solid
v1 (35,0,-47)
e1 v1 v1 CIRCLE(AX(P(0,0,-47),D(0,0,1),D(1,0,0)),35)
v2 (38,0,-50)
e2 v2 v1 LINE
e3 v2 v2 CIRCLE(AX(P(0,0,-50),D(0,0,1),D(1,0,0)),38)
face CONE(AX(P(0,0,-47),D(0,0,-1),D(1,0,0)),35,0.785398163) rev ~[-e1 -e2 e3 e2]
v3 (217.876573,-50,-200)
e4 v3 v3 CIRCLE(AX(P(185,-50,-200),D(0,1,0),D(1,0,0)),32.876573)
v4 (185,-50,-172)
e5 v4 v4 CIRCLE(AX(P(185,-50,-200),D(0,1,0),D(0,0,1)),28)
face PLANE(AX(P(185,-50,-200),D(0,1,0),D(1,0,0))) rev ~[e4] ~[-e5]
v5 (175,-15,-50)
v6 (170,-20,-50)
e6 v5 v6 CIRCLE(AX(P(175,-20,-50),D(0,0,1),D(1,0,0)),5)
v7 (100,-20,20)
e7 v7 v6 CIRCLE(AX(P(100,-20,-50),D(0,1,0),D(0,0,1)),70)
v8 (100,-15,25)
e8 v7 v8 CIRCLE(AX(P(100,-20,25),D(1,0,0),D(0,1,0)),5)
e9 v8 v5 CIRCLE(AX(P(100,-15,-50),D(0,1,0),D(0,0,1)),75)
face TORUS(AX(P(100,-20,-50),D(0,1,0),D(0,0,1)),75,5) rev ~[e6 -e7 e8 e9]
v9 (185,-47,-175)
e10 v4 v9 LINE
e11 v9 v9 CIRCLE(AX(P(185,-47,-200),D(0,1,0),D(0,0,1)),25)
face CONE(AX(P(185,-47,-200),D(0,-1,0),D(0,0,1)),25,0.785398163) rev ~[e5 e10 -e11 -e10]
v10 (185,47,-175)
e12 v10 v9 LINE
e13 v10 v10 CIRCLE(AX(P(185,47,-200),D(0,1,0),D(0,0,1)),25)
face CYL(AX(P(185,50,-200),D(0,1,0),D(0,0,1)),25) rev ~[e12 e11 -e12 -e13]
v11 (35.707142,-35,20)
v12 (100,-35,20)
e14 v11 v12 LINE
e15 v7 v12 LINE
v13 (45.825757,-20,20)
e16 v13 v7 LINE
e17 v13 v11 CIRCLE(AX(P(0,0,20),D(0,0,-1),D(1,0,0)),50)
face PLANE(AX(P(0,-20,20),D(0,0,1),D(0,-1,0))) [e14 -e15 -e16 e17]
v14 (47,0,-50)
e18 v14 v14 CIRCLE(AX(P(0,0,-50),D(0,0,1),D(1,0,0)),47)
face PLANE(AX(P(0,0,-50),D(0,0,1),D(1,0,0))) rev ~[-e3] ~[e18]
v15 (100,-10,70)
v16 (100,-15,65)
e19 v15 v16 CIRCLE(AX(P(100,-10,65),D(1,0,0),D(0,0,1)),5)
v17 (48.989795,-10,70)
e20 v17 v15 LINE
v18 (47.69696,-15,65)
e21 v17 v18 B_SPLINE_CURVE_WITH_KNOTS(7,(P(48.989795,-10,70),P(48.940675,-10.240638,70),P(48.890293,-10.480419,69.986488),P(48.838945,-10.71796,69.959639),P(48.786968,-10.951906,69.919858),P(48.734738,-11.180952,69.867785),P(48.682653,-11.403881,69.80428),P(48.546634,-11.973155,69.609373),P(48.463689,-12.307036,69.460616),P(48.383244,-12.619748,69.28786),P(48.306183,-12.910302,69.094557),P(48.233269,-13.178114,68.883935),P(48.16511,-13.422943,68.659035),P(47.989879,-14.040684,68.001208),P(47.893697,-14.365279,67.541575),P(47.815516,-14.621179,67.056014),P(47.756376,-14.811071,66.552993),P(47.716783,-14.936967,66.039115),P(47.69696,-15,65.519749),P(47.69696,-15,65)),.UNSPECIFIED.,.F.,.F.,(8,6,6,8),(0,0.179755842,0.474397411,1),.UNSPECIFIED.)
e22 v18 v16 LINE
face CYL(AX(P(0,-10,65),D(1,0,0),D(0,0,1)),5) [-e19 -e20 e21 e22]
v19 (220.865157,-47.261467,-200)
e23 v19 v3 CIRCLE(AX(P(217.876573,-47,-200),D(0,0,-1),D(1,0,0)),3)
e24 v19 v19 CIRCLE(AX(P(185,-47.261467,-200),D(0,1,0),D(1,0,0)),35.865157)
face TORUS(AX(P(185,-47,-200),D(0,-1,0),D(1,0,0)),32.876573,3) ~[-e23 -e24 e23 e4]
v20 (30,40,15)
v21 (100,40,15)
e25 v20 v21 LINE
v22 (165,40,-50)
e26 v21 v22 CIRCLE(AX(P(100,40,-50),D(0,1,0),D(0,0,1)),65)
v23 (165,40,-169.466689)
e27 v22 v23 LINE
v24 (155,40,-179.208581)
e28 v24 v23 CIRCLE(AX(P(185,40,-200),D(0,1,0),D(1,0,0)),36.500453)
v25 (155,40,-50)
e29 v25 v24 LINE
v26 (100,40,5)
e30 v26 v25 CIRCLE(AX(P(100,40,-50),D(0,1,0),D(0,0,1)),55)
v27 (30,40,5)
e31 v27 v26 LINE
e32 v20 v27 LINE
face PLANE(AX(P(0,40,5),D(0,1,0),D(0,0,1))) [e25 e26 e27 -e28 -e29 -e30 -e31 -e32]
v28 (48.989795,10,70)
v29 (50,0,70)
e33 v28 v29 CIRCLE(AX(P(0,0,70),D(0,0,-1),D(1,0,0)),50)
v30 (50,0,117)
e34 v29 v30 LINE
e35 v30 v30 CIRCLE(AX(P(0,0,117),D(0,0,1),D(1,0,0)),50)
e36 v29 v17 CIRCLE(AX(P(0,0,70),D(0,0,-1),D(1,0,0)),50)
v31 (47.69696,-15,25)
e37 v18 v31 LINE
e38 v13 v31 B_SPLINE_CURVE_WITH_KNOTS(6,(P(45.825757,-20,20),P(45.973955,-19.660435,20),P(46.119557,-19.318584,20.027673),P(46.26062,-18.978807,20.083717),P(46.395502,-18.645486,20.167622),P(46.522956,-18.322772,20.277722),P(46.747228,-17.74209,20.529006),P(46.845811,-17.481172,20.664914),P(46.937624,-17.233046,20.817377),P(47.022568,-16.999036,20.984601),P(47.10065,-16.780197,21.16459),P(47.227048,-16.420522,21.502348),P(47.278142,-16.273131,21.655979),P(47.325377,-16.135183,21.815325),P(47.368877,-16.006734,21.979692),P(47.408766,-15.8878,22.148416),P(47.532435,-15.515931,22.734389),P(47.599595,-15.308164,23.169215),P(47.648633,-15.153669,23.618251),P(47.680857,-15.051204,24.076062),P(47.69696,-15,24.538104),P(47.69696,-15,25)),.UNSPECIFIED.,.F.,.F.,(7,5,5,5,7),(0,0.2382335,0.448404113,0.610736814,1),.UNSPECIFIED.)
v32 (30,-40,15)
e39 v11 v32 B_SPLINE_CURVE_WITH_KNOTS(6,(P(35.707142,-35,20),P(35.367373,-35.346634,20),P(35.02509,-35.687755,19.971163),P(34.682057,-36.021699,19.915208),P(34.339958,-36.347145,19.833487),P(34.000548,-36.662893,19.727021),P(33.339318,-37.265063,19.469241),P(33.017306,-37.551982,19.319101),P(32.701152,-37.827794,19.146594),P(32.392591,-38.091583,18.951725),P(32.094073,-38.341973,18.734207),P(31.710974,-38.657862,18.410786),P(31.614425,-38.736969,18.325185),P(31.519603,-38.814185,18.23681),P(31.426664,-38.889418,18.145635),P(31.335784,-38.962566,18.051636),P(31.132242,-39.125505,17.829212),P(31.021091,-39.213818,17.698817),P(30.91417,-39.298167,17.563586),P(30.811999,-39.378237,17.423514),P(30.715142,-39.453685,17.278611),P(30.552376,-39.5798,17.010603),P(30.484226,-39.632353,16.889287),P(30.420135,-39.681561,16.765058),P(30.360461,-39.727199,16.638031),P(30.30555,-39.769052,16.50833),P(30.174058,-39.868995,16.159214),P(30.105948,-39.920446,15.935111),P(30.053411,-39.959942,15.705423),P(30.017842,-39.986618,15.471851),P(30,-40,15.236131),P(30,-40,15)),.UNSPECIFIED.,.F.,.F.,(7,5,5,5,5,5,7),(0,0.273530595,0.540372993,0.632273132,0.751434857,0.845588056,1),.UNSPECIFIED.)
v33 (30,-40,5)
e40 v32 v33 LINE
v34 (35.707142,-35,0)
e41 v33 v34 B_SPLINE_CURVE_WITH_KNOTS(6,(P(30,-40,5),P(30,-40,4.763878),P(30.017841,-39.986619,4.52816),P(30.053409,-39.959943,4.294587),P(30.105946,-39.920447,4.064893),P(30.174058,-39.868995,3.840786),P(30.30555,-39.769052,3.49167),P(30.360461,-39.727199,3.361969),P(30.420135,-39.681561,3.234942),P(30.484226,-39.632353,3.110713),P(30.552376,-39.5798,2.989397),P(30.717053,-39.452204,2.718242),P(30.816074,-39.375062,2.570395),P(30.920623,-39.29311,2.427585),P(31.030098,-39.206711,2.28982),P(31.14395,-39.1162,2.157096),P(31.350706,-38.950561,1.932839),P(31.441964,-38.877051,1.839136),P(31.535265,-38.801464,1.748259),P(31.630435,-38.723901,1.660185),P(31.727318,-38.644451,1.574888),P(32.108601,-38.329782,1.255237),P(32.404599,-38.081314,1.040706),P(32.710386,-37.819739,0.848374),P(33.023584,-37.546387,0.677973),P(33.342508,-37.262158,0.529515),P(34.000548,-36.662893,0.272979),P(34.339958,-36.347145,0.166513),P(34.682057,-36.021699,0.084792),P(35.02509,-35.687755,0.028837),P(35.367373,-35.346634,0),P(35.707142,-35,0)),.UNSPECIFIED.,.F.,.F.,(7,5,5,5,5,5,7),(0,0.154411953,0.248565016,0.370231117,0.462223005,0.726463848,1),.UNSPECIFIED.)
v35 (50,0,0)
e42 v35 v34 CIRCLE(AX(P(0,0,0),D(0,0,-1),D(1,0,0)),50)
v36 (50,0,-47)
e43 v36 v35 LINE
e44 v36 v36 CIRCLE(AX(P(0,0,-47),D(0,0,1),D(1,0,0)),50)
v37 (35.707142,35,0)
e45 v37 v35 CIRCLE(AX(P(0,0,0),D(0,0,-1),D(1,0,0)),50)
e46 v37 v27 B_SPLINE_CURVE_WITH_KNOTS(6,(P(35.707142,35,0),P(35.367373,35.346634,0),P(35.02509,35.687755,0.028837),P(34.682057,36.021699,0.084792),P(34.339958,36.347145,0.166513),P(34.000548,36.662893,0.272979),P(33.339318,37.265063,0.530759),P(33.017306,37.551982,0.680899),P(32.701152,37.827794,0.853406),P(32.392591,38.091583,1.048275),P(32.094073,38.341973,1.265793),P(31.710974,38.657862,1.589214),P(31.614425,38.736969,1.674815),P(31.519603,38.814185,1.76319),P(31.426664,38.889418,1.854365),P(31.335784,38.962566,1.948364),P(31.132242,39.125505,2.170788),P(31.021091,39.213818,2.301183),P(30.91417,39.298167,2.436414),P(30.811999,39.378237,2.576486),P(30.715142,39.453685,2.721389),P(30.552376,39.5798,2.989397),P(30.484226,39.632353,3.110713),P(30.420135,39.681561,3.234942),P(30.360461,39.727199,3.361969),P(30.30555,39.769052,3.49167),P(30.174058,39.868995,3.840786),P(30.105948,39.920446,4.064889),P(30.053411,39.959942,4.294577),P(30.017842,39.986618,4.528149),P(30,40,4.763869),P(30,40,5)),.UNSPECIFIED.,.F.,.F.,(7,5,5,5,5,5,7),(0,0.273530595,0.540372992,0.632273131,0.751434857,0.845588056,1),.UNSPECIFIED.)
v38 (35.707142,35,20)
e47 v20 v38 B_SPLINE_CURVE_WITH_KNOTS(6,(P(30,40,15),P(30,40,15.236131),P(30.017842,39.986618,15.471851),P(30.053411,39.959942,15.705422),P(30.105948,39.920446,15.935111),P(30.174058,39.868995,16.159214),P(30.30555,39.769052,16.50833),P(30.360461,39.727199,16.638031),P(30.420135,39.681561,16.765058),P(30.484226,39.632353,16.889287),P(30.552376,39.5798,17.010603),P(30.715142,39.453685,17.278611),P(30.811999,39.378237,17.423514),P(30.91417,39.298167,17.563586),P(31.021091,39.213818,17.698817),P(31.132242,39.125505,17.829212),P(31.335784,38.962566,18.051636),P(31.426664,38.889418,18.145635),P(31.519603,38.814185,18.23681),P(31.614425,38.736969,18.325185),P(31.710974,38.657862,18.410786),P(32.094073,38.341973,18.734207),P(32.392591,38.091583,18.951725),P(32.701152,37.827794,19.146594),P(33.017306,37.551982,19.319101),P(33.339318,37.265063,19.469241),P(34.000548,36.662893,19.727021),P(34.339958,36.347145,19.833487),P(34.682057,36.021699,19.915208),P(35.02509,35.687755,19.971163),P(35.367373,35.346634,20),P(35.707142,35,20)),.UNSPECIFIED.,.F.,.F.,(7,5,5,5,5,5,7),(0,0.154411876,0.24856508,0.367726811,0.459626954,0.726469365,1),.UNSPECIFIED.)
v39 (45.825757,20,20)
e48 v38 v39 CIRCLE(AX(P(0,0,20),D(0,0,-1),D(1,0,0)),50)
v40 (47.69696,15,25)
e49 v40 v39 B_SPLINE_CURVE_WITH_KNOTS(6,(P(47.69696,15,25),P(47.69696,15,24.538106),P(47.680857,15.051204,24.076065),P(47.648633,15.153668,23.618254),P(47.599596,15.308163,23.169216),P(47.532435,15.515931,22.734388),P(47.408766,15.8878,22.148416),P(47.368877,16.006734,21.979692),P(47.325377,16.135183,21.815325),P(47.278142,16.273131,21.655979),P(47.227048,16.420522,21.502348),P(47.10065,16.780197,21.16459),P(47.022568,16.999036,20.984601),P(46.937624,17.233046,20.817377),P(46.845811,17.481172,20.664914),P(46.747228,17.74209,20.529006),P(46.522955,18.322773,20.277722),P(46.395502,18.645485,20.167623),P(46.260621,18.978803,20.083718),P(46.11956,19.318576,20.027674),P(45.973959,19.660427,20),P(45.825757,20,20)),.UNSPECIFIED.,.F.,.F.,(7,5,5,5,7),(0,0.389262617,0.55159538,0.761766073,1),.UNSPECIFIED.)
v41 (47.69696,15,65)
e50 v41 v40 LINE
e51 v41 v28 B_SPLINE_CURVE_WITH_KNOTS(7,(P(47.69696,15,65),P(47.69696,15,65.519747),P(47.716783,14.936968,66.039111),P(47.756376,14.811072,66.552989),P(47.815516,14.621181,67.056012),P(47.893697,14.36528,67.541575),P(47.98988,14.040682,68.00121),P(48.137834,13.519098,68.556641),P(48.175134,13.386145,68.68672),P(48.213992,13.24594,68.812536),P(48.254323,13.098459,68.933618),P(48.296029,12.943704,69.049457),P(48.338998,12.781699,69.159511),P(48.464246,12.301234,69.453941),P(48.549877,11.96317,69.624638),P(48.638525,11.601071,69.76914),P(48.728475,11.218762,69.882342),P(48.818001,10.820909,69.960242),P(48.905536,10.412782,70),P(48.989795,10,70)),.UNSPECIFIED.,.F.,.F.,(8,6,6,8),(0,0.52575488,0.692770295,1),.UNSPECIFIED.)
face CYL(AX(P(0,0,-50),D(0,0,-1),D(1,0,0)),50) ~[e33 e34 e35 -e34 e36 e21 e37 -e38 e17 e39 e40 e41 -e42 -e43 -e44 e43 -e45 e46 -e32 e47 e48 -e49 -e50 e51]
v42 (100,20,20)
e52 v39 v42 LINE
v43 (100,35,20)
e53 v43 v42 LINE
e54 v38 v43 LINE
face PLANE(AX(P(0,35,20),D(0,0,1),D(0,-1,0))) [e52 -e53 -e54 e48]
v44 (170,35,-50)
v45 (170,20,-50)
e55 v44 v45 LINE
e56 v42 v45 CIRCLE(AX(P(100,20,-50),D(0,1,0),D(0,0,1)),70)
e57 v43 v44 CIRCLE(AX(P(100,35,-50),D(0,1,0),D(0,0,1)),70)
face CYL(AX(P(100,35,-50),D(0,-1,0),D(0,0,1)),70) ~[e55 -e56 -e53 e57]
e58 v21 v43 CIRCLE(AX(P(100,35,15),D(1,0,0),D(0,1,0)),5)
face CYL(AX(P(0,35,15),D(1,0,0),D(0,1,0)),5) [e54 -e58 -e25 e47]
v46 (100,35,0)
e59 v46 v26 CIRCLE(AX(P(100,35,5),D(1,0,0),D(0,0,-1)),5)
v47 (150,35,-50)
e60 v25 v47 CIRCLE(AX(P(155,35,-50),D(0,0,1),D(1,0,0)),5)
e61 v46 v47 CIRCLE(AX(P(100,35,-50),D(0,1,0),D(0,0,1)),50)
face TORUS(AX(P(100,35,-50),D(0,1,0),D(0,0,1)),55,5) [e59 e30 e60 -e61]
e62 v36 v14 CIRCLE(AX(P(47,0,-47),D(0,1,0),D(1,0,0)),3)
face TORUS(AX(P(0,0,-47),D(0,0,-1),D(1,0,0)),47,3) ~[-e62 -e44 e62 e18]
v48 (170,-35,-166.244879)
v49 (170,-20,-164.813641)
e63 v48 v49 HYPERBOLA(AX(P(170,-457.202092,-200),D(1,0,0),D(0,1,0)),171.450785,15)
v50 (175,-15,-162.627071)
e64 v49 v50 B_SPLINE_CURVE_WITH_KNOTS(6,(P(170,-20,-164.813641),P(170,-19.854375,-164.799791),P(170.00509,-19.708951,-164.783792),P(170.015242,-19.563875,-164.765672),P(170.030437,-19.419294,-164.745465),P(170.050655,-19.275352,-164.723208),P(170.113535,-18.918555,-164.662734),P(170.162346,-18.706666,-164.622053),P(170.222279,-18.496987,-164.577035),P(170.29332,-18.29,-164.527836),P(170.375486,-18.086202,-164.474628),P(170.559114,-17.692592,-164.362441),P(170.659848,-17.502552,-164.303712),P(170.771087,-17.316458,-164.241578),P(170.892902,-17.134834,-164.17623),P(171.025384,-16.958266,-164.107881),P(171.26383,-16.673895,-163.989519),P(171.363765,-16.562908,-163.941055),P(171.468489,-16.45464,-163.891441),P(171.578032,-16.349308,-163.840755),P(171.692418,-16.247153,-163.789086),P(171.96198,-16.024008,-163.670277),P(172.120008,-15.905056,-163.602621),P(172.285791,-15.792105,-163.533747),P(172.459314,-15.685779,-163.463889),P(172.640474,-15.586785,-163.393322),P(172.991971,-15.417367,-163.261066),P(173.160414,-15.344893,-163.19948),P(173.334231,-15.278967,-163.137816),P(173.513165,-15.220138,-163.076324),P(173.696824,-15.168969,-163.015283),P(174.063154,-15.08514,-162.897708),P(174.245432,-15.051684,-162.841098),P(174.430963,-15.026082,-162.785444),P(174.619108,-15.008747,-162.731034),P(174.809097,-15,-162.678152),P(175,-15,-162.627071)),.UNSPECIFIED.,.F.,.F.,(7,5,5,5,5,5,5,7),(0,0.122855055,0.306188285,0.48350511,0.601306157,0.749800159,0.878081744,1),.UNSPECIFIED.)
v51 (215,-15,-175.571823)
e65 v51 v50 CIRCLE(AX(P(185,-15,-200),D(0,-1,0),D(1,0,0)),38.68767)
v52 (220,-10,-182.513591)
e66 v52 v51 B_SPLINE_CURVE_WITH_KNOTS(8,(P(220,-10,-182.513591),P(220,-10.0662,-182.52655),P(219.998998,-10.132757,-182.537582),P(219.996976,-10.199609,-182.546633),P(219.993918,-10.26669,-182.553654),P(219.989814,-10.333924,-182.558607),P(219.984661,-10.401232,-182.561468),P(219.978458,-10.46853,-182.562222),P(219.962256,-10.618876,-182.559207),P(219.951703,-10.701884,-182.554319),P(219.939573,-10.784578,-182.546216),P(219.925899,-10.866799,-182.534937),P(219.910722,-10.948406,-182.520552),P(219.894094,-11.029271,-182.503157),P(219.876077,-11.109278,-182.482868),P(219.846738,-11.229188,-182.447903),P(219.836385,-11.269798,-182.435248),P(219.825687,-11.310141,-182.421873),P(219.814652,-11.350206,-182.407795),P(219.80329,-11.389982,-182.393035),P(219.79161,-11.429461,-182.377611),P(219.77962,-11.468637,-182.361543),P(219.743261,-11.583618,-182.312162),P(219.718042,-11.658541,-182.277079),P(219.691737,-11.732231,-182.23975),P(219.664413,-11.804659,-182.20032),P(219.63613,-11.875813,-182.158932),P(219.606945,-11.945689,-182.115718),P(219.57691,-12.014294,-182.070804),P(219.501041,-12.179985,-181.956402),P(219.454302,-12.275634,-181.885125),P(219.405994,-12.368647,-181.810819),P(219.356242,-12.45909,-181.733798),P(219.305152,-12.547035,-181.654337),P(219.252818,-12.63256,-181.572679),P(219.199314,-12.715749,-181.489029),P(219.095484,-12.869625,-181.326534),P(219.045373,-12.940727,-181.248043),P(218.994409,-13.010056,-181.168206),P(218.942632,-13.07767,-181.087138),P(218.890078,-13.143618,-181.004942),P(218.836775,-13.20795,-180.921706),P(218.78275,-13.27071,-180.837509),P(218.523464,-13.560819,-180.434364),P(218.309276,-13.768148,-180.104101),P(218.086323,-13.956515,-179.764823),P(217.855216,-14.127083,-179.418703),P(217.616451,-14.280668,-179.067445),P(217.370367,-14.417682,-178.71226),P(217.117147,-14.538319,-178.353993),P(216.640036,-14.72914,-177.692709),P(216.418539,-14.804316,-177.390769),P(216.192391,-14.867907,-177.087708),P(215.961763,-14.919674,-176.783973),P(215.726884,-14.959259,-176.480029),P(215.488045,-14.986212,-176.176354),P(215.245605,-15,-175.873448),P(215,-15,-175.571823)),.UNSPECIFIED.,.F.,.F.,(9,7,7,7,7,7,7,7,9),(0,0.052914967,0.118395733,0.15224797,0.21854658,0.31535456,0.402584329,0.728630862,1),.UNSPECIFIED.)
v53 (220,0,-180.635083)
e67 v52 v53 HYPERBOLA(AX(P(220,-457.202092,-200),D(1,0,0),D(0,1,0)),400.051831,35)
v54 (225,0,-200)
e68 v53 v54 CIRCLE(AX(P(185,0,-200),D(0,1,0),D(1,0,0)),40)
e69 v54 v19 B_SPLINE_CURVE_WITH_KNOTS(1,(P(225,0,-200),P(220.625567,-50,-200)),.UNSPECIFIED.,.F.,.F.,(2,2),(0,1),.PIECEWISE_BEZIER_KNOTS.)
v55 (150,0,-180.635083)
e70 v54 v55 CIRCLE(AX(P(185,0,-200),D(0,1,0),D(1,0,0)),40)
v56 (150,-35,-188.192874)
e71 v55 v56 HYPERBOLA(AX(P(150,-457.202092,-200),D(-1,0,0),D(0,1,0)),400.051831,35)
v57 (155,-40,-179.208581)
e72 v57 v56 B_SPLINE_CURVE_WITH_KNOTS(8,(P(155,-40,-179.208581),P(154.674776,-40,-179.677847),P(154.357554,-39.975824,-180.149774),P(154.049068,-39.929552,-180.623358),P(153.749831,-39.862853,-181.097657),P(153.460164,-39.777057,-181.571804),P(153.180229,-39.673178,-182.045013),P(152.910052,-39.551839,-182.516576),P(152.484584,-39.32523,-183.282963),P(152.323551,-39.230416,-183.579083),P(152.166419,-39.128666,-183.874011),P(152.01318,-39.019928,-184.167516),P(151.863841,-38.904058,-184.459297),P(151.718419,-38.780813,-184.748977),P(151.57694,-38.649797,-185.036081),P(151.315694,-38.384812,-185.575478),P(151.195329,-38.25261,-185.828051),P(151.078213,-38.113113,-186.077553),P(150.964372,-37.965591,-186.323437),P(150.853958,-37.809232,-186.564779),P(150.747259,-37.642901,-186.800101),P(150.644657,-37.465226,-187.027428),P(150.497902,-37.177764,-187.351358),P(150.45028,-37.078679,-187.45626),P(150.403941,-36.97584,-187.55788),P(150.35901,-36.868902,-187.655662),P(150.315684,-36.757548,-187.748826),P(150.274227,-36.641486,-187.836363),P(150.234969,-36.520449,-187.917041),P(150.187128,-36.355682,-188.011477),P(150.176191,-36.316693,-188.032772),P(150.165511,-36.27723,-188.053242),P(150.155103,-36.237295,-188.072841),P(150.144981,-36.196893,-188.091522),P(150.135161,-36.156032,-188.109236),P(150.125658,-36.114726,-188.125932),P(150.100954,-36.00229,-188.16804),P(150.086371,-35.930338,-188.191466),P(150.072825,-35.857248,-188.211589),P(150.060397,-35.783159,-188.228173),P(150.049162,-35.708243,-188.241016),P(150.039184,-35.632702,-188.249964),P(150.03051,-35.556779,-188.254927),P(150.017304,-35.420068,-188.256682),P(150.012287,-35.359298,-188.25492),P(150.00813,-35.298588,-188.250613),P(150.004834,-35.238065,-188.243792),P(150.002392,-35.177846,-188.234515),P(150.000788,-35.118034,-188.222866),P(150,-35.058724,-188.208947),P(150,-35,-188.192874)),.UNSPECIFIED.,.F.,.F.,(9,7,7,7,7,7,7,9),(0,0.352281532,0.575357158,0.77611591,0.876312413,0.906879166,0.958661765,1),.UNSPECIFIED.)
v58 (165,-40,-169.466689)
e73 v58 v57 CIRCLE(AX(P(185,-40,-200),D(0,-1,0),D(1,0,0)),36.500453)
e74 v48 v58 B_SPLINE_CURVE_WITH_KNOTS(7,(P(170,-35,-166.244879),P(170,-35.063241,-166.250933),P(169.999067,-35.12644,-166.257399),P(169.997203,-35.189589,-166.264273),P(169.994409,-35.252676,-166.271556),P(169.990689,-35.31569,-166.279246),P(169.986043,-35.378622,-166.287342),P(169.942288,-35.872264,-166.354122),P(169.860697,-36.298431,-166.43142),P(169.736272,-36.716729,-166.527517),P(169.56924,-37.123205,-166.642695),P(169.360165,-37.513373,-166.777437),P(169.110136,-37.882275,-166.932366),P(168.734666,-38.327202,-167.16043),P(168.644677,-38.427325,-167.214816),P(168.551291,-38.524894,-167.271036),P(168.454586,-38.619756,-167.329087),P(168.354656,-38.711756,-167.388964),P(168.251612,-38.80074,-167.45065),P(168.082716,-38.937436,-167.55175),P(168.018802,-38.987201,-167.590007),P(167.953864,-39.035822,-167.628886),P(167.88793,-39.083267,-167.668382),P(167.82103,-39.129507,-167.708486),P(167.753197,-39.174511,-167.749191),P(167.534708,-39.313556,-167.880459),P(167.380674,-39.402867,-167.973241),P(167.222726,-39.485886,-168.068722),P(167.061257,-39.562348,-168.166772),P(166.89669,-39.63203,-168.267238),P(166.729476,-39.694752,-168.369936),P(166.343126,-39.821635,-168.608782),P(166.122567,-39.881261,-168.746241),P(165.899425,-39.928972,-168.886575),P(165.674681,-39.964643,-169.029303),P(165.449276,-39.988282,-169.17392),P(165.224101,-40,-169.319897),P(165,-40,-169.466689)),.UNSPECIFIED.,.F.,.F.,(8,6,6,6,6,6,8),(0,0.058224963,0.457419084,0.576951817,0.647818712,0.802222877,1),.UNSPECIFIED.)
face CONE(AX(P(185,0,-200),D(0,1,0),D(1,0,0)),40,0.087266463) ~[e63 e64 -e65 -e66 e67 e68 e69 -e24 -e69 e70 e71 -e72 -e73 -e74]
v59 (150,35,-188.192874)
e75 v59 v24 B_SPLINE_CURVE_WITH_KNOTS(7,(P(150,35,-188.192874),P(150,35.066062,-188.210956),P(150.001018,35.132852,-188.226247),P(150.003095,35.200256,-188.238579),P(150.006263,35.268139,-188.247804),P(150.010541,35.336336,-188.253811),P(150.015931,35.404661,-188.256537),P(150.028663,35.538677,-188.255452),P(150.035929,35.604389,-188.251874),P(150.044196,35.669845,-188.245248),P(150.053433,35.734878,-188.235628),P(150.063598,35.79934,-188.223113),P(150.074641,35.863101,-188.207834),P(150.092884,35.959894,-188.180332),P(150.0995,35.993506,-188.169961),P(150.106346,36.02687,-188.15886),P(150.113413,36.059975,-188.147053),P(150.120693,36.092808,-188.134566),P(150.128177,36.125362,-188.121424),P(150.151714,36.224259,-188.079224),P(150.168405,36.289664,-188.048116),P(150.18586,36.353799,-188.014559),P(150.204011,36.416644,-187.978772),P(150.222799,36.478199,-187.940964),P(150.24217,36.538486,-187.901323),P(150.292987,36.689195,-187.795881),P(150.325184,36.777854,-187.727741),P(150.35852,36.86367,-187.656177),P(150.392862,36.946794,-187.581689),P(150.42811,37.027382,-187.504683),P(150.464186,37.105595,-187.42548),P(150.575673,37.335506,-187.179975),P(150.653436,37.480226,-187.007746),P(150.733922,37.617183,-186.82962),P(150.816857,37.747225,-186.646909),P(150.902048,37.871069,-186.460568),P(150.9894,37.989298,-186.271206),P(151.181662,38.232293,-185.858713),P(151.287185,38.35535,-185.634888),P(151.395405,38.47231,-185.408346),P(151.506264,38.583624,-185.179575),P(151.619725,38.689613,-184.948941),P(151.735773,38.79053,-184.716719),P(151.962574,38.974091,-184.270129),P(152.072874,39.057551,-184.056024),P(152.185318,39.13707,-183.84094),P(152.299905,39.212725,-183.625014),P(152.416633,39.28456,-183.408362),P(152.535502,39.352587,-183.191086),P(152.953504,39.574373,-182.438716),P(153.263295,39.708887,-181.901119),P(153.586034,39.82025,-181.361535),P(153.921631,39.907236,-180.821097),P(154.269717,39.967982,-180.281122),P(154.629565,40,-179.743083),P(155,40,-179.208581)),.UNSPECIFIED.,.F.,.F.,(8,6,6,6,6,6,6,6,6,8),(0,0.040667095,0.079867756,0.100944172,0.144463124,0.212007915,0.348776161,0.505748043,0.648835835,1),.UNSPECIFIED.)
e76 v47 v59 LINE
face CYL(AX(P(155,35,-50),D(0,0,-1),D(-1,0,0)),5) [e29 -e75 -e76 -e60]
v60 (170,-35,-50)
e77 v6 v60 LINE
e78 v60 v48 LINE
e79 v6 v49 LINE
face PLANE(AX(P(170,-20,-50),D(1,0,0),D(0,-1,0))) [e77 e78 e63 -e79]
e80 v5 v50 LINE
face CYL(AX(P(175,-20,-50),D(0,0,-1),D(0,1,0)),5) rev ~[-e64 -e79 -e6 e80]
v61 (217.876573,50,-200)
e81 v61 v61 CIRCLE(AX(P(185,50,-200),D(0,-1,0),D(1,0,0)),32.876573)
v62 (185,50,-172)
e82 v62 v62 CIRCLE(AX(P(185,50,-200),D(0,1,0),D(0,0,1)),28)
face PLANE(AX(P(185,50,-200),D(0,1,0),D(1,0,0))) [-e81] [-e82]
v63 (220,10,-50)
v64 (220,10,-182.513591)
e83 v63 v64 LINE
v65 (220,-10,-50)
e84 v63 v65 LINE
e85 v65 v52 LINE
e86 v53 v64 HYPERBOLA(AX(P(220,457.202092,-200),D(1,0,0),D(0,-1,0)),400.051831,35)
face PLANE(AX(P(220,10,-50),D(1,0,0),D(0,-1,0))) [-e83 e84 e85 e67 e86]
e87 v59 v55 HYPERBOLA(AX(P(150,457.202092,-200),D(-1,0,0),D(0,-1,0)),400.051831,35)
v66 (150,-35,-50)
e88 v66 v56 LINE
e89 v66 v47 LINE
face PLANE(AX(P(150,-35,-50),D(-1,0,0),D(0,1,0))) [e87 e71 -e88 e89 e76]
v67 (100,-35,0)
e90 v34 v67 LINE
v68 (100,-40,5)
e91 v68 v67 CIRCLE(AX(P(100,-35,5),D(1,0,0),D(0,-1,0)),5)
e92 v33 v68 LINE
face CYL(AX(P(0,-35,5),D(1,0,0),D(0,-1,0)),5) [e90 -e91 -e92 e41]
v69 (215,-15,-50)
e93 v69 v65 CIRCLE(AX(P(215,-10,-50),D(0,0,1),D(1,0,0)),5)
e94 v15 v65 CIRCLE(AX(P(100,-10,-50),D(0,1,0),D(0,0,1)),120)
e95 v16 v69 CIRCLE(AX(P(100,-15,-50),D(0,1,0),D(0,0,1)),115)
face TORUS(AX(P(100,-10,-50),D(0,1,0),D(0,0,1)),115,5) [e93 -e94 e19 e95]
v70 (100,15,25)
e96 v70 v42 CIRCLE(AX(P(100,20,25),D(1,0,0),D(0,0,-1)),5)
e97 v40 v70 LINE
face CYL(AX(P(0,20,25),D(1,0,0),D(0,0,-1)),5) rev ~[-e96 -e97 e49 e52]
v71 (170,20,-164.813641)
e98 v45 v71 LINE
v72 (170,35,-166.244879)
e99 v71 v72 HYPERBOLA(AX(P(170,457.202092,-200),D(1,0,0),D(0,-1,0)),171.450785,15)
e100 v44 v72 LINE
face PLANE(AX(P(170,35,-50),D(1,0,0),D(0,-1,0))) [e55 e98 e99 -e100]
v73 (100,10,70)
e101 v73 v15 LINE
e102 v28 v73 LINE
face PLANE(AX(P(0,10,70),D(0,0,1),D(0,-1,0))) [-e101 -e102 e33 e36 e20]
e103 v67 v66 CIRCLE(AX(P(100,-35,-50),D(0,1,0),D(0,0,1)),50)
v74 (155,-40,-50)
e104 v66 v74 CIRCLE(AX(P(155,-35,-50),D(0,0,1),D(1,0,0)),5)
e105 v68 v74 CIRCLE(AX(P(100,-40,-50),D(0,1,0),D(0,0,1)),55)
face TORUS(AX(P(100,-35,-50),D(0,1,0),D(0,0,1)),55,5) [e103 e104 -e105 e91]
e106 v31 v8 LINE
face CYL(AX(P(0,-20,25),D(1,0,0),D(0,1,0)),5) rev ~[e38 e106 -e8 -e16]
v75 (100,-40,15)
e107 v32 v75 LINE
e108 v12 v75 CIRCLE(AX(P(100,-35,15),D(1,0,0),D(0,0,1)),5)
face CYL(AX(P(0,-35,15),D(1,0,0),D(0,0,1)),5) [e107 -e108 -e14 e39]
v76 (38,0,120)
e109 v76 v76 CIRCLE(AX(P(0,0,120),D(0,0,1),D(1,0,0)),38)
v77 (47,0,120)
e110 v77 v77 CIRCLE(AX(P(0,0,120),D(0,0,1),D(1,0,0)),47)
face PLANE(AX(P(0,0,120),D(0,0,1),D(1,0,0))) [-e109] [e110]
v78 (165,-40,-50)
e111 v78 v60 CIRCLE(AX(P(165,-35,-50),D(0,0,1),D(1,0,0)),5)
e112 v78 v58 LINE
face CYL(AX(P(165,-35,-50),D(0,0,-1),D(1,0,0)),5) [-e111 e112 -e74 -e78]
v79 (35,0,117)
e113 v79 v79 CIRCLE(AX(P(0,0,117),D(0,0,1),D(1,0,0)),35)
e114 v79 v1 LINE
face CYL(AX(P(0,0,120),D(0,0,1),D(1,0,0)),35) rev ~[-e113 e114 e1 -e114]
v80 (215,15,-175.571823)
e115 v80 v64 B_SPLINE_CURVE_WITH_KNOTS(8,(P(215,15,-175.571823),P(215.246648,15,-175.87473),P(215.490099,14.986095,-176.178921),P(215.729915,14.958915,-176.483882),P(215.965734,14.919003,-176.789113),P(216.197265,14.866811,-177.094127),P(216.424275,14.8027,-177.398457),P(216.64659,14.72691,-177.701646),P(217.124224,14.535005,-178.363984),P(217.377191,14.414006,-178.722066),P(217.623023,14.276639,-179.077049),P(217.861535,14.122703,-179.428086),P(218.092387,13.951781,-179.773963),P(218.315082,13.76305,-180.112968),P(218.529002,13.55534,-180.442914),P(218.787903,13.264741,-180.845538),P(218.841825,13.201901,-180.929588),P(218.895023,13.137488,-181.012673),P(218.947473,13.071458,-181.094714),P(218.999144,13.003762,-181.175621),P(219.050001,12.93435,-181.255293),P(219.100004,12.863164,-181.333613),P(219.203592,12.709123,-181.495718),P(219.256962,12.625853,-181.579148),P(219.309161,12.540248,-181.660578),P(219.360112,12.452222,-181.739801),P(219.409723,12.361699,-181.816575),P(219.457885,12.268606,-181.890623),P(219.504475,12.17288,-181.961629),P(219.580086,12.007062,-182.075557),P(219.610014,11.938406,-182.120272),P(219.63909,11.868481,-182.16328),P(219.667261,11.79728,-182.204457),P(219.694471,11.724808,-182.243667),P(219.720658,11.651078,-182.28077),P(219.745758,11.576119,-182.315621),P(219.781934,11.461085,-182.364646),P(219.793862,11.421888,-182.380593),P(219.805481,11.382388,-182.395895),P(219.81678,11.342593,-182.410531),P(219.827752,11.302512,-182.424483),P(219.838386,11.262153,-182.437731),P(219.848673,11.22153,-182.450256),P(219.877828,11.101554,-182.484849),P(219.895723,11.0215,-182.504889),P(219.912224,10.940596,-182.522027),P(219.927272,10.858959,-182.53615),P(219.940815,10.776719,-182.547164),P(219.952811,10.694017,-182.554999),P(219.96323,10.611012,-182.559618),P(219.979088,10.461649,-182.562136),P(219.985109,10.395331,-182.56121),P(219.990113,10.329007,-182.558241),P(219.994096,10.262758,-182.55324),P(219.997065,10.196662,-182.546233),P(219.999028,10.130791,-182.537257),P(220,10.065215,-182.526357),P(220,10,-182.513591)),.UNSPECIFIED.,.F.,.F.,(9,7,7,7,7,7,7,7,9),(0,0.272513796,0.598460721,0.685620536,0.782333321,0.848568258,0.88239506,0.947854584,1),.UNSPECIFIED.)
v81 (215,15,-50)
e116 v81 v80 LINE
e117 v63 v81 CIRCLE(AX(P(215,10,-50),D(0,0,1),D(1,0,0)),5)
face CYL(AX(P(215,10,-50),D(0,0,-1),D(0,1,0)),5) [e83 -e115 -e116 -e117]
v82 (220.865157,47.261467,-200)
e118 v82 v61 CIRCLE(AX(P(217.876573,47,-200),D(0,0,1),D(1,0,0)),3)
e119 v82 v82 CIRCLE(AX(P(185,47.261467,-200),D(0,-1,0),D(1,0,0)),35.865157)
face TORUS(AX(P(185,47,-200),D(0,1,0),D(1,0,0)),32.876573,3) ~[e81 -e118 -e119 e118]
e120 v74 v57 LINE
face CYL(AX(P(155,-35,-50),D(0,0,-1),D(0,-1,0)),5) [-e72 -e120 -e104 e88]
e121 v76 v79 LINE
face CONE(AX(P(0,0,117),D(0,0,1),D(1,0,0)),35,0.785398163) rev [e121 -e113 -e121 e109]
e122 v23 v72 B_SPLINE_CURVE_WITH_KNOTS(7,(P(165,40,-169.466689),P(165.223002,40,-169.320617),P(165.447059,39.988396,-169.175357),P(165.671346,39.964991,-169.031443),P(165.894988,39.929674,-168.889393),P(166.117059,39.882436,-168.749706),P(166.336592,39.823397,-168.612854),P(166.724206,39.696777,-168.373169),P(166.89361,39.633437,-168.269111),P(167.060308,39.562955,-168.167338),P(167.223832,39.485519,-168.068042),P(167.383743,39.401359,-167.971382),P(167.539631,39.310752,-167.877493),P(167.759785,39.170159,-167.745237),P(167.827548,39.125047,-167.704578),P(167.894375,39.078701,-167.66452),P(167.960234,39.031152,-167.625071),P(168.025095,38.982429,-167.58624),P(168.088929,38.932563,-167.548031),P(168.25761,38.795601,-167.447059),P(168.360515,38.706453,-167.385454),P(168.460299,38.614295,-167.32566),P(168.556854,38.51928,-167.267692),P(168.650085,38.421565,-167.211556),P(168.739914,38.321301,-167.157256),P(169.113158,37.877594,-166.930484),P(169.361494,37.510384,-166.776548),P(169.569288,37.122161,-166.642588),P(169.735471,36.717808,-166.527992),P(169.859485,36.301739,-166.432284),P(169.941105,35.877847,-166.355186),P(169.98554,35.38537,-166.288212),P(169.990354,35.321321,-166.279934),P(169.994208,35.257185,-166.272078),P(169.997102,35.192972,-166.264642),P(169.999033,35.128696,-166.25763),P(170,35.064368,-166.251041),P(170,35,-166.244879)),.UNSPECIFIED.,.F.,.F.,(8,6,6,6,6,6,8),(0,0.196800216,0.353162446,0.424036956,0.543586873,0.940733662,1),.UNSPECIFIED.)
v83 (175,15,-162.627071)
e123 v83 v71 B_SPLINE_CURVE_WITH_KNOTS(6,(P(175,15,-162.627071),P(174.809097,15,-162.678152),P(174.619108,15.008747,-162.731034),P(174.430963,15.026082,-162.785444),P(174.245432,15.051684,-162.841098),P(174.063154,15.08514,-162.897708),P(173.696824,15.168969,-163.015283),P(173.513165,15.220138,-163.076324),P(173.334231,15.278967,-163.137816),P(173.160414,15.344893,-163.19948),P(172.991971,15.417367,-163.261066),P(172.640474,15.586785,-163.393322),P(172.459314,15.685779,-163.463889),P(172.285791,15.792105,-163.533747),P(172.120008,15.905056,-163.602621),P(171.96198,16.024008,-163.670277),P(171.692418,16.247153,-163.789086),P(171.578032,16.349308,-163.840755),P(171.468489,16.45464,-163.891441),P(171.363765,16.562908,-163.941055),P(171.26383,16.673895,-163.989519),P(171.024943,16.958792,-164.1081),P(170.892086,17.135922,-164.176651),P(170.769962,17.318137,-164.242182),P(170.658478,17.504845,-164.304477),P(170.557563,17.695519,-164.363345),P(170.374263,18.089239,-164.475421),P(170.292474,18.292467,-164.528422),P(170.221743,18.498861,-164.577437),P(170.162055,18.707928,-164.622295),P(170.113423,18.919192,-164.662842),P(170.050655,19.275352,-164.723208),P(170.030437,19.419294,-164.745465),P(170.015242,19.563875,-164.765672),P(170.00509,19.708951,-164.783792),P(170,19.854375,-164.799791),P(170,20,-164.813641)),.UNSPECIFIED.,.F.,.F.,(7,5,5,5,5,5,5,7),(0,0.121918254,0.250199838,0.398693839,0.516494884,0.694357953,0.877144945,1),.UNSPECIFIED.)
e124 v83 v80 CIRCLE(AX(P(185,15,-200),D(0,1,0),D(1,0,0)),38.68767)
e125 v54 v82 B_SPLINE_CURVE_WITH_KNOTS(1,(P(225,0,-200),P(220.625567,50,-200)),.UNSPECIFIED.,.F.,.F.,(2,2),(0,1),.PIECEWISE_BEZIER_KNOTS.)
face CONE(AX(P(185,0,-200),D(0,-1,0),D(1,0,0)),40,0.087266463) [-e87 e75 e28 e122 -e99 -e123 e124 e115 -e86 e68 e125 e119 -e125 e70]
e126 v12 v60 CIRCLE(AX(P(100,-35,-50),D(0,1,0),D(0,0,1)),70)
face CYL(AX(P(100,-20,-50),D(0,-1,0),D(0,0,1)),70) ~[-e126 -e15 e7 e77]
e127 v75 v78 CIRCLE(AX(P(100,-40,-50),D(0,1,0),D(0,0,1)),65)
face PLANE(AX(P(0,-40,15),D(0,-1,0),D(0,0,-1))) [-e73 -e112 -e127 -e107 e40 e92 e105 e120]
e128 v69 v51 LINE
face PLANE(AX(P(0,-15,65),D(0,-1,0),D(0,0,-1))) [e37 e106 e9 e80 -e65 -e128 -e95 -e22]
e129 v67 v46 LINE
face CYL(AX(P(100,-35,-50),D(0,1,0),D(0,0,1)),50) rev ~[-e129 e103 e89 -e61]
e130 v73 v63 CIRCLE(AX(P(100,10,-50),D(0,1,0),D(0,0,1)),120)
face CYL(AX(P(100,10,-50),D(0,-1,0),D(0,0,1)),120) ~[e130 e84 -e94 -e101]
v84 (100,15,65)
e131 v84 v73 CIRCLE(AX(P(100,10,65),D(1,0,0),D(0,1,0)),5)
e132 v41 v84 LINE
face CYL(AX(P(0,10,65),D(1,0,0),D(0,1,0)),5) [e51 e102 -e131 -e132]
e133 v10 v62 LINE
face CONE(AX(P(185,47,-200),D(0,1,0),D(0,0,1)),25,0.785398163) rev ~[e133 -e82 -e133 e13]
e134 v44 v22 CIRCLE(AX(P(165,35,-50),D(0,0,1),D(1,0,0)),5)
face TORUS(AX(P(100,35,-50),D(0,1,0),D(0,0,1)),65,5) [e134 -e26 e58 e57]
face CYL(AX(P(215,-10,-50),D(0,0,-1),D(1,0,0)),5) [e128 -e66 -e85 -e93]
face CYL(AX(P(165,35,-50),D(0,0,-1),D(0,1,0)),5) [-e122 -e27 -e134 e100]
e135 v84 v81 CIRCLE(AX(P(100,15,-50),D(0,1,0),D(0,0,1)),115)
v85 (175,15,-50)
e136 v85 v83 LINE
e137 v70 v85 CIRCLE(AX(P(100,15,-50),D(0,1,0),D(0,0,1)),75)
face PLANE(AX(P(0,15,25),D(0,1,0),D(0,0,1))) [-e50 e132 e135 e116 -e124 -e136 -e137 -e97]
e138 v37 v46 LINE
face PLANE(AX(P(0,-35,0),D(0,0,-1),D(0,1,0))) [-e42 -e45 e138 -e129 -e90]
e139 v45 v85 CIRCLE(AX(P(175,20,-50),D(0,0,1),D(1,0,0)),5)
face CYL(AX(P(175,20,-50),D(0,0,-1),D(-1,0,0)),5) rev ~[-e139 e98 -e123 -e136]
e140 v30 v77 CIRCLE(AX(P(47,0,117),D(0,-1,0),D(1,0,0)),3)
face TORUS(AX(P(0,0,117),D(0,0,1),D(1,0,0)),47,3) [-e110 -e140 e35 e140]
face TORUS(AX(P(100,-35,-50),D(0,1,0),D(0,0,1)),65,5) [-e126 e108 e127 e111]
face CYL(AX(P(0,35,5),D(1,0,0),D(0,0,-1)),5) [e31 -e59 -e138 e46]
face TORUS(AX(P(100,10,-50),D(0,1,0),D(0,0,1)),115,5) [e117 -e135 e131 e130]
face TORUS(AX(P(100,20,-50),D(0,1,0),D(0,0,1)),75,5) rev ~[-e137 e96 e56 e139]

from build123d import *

# Parameters (mm, degrees)
BOSS_EXTRUDE1_DEPTH           = 120
BOSS_EXTRUDE1_DEPTH_BACK      = 50
SKETCH1_R                     = 50
SKETCH4_R                     = 40
BOSS_EXTRUDE4_DEPTH           = 50
BOSS_EXTRUDE4_TAPER           = 5
BOSS_EXTRUDE4_OTHER_WAY_DEPTH = 50
BOSS_EXTRUDE4_OTHER_WAY_TAPER = 5
SKETCH5_R                     = 25
CUT_EXTRUDE1_DEPTH            = 344.838625103
SKETCH6_R                     = 35
CUT_EXTRUDE2_DEPTH            = 428.463448878
FILLET1_R                     = 3
CHAMFER1_SIZE                 = 3


with BuildPart() as part:
    # Sketch1 → Boss-Extrude1 (new, two sides: drawn at the far end of the back side and taken through both)
    with BuildSketch(Plane.XY.offset(-BOSS_EXTRUDE1_DEPTH_BACK)):
        Circle(SKETCH1_R)
    extrude(amount=BOSS_EXTRUDE1_DEPTH + BOSS_EXTRUDE1_DEPTH_BACK)

    # Sweep1: sweep along a path in Sketch3
    with BuildLine(Plane(origin=(0, 0, 0), x_dir=(1, 0, 0), z_dir=(0, 1, 0))) as sweep1_path:
        Line((0, 0), (100, 0))
        ThreePointArc((100, 0), (135.355339059, 14.644660941), (150, 50))
        Line((150, 50), (150, 200))
    # Sketch2 → Sweep1 (sweep)
    with BuildSketch(Plane(origin=(0, 0, 0), x_dir=(0, 0, -1), z_dir=(1, 0, 0))):
        with BuildLine():
            Line((0, -35), (0, 35))
            ThreePointArc((0, 35), (-1.464466094, 38.535533906), (-5, 40))
            Line((-5, 40), (-15, 40))
            ThreePointArc((-15, 40), (-18.535533906, 38.535533906), (-20, 35))
            Line((-20, 35), (-20, 20))
            ThreePointArc((-20, 20), (-21.464466094, 16.464466094), (-25, 15))
            Line((-25, 15), (-65, 15))
            ThreePointArc((-65, 15), (-68.535533906, 13.535533906), (-70, 10))
            Line((-70, 10), (-70, -10))
            ThreePointArc((-70, -10), (-68.535533906, -13.535533906), (-65, -15))
            Line((-65, -15), (-25, -15))
            ThreePointArc((-25, -15), (-21.464466094, -16.464466094), (-20, -20))
            Line((-20, -20), (-20, -35))
            ThreePointArc((-20, -35), (-18.535533906, -38.535533906), (-15, -40))
            Line((-15, -40), (-5, -40))
            ThreePointArc((-5, -40), (-1.464466094, -38.535533906), (0, -35))
        make_face()
    sweep(path=sweep1_path.line)

    # Sketch4 → Boss-Extrude4 (add)
    with BuildSketch(Plane(origin=(0, 0, 0), x_dir=(1, 0, 0), z_dir=(0, 1, 0))):
        with Locations((185, 200)):
            Circle(SKETCH4_R)
    extrude(amount=BOSS_EXTRUDE4_DEPTH, taper=BOSS_EXTRUDE4_TAPER)

    # Sketch4 → Boss-Extrude4 other way (add)
    with BuildSketch(Plane(origin=(0, 0, 0), x_dir=(1, 0, 0), z_dir=(0, 1, 0))):
        with Locations((185, 200)):
            Circle(SKETCH4_R)
    extrude(amount=-BOSS_EXTRUDE4_OTHER_WAY_DEPTH, taper=BOSS_EXTRUDE4_OTHER_WAY_TAPER)

    # Sketch5 → Cut-Extrude1 (cut, through all)
    with BuildSketch(Plane(origin=(0, 50, 0), x_dir=(1, 0, 0), z_dir=(0, 1, 0))):
        with Locations(Location((185, 200, 0), (0, 0, 270))):
            Circle(SKETCH5_R)
    extrude(amount=-CUT_EXTRUDE1_DEPTH, mode=Mode.SUBTRACT)

    # Sketch6 → Cut-Extrude2 (cut, through all)
    with BuildSketch(Plane.XY.offset(120)):
        Circle(SKETCH6_R)
    extrude(amount=-CUT_EXTRUDE2_DEPTH, mode=Mode.SUBTRACT)

    # Fillet1
    fillet1_edges = [part.edges().sort_by_distance(p)[0] for p in [
        (149.374433176, -50, -200),
        (149.374433176, 50, -200),
        (-50, 0, -50),
        (-50, 0, 120),
    ]]
    fillet(fillet1_edges, radius=FILLET1_R)

    # Chamfer1
    chamfer1_edges = [part.edges().sort_by_distance(p)[0] for p in [
        (185, -50, -225),
        (185, 50, -225),
        (-35, 0, -50),
        (-35, 0, 120),
    ]]
    chamfer(chamfer1_edges, length=CHAMFER1_SIZE)


solid = part.part
